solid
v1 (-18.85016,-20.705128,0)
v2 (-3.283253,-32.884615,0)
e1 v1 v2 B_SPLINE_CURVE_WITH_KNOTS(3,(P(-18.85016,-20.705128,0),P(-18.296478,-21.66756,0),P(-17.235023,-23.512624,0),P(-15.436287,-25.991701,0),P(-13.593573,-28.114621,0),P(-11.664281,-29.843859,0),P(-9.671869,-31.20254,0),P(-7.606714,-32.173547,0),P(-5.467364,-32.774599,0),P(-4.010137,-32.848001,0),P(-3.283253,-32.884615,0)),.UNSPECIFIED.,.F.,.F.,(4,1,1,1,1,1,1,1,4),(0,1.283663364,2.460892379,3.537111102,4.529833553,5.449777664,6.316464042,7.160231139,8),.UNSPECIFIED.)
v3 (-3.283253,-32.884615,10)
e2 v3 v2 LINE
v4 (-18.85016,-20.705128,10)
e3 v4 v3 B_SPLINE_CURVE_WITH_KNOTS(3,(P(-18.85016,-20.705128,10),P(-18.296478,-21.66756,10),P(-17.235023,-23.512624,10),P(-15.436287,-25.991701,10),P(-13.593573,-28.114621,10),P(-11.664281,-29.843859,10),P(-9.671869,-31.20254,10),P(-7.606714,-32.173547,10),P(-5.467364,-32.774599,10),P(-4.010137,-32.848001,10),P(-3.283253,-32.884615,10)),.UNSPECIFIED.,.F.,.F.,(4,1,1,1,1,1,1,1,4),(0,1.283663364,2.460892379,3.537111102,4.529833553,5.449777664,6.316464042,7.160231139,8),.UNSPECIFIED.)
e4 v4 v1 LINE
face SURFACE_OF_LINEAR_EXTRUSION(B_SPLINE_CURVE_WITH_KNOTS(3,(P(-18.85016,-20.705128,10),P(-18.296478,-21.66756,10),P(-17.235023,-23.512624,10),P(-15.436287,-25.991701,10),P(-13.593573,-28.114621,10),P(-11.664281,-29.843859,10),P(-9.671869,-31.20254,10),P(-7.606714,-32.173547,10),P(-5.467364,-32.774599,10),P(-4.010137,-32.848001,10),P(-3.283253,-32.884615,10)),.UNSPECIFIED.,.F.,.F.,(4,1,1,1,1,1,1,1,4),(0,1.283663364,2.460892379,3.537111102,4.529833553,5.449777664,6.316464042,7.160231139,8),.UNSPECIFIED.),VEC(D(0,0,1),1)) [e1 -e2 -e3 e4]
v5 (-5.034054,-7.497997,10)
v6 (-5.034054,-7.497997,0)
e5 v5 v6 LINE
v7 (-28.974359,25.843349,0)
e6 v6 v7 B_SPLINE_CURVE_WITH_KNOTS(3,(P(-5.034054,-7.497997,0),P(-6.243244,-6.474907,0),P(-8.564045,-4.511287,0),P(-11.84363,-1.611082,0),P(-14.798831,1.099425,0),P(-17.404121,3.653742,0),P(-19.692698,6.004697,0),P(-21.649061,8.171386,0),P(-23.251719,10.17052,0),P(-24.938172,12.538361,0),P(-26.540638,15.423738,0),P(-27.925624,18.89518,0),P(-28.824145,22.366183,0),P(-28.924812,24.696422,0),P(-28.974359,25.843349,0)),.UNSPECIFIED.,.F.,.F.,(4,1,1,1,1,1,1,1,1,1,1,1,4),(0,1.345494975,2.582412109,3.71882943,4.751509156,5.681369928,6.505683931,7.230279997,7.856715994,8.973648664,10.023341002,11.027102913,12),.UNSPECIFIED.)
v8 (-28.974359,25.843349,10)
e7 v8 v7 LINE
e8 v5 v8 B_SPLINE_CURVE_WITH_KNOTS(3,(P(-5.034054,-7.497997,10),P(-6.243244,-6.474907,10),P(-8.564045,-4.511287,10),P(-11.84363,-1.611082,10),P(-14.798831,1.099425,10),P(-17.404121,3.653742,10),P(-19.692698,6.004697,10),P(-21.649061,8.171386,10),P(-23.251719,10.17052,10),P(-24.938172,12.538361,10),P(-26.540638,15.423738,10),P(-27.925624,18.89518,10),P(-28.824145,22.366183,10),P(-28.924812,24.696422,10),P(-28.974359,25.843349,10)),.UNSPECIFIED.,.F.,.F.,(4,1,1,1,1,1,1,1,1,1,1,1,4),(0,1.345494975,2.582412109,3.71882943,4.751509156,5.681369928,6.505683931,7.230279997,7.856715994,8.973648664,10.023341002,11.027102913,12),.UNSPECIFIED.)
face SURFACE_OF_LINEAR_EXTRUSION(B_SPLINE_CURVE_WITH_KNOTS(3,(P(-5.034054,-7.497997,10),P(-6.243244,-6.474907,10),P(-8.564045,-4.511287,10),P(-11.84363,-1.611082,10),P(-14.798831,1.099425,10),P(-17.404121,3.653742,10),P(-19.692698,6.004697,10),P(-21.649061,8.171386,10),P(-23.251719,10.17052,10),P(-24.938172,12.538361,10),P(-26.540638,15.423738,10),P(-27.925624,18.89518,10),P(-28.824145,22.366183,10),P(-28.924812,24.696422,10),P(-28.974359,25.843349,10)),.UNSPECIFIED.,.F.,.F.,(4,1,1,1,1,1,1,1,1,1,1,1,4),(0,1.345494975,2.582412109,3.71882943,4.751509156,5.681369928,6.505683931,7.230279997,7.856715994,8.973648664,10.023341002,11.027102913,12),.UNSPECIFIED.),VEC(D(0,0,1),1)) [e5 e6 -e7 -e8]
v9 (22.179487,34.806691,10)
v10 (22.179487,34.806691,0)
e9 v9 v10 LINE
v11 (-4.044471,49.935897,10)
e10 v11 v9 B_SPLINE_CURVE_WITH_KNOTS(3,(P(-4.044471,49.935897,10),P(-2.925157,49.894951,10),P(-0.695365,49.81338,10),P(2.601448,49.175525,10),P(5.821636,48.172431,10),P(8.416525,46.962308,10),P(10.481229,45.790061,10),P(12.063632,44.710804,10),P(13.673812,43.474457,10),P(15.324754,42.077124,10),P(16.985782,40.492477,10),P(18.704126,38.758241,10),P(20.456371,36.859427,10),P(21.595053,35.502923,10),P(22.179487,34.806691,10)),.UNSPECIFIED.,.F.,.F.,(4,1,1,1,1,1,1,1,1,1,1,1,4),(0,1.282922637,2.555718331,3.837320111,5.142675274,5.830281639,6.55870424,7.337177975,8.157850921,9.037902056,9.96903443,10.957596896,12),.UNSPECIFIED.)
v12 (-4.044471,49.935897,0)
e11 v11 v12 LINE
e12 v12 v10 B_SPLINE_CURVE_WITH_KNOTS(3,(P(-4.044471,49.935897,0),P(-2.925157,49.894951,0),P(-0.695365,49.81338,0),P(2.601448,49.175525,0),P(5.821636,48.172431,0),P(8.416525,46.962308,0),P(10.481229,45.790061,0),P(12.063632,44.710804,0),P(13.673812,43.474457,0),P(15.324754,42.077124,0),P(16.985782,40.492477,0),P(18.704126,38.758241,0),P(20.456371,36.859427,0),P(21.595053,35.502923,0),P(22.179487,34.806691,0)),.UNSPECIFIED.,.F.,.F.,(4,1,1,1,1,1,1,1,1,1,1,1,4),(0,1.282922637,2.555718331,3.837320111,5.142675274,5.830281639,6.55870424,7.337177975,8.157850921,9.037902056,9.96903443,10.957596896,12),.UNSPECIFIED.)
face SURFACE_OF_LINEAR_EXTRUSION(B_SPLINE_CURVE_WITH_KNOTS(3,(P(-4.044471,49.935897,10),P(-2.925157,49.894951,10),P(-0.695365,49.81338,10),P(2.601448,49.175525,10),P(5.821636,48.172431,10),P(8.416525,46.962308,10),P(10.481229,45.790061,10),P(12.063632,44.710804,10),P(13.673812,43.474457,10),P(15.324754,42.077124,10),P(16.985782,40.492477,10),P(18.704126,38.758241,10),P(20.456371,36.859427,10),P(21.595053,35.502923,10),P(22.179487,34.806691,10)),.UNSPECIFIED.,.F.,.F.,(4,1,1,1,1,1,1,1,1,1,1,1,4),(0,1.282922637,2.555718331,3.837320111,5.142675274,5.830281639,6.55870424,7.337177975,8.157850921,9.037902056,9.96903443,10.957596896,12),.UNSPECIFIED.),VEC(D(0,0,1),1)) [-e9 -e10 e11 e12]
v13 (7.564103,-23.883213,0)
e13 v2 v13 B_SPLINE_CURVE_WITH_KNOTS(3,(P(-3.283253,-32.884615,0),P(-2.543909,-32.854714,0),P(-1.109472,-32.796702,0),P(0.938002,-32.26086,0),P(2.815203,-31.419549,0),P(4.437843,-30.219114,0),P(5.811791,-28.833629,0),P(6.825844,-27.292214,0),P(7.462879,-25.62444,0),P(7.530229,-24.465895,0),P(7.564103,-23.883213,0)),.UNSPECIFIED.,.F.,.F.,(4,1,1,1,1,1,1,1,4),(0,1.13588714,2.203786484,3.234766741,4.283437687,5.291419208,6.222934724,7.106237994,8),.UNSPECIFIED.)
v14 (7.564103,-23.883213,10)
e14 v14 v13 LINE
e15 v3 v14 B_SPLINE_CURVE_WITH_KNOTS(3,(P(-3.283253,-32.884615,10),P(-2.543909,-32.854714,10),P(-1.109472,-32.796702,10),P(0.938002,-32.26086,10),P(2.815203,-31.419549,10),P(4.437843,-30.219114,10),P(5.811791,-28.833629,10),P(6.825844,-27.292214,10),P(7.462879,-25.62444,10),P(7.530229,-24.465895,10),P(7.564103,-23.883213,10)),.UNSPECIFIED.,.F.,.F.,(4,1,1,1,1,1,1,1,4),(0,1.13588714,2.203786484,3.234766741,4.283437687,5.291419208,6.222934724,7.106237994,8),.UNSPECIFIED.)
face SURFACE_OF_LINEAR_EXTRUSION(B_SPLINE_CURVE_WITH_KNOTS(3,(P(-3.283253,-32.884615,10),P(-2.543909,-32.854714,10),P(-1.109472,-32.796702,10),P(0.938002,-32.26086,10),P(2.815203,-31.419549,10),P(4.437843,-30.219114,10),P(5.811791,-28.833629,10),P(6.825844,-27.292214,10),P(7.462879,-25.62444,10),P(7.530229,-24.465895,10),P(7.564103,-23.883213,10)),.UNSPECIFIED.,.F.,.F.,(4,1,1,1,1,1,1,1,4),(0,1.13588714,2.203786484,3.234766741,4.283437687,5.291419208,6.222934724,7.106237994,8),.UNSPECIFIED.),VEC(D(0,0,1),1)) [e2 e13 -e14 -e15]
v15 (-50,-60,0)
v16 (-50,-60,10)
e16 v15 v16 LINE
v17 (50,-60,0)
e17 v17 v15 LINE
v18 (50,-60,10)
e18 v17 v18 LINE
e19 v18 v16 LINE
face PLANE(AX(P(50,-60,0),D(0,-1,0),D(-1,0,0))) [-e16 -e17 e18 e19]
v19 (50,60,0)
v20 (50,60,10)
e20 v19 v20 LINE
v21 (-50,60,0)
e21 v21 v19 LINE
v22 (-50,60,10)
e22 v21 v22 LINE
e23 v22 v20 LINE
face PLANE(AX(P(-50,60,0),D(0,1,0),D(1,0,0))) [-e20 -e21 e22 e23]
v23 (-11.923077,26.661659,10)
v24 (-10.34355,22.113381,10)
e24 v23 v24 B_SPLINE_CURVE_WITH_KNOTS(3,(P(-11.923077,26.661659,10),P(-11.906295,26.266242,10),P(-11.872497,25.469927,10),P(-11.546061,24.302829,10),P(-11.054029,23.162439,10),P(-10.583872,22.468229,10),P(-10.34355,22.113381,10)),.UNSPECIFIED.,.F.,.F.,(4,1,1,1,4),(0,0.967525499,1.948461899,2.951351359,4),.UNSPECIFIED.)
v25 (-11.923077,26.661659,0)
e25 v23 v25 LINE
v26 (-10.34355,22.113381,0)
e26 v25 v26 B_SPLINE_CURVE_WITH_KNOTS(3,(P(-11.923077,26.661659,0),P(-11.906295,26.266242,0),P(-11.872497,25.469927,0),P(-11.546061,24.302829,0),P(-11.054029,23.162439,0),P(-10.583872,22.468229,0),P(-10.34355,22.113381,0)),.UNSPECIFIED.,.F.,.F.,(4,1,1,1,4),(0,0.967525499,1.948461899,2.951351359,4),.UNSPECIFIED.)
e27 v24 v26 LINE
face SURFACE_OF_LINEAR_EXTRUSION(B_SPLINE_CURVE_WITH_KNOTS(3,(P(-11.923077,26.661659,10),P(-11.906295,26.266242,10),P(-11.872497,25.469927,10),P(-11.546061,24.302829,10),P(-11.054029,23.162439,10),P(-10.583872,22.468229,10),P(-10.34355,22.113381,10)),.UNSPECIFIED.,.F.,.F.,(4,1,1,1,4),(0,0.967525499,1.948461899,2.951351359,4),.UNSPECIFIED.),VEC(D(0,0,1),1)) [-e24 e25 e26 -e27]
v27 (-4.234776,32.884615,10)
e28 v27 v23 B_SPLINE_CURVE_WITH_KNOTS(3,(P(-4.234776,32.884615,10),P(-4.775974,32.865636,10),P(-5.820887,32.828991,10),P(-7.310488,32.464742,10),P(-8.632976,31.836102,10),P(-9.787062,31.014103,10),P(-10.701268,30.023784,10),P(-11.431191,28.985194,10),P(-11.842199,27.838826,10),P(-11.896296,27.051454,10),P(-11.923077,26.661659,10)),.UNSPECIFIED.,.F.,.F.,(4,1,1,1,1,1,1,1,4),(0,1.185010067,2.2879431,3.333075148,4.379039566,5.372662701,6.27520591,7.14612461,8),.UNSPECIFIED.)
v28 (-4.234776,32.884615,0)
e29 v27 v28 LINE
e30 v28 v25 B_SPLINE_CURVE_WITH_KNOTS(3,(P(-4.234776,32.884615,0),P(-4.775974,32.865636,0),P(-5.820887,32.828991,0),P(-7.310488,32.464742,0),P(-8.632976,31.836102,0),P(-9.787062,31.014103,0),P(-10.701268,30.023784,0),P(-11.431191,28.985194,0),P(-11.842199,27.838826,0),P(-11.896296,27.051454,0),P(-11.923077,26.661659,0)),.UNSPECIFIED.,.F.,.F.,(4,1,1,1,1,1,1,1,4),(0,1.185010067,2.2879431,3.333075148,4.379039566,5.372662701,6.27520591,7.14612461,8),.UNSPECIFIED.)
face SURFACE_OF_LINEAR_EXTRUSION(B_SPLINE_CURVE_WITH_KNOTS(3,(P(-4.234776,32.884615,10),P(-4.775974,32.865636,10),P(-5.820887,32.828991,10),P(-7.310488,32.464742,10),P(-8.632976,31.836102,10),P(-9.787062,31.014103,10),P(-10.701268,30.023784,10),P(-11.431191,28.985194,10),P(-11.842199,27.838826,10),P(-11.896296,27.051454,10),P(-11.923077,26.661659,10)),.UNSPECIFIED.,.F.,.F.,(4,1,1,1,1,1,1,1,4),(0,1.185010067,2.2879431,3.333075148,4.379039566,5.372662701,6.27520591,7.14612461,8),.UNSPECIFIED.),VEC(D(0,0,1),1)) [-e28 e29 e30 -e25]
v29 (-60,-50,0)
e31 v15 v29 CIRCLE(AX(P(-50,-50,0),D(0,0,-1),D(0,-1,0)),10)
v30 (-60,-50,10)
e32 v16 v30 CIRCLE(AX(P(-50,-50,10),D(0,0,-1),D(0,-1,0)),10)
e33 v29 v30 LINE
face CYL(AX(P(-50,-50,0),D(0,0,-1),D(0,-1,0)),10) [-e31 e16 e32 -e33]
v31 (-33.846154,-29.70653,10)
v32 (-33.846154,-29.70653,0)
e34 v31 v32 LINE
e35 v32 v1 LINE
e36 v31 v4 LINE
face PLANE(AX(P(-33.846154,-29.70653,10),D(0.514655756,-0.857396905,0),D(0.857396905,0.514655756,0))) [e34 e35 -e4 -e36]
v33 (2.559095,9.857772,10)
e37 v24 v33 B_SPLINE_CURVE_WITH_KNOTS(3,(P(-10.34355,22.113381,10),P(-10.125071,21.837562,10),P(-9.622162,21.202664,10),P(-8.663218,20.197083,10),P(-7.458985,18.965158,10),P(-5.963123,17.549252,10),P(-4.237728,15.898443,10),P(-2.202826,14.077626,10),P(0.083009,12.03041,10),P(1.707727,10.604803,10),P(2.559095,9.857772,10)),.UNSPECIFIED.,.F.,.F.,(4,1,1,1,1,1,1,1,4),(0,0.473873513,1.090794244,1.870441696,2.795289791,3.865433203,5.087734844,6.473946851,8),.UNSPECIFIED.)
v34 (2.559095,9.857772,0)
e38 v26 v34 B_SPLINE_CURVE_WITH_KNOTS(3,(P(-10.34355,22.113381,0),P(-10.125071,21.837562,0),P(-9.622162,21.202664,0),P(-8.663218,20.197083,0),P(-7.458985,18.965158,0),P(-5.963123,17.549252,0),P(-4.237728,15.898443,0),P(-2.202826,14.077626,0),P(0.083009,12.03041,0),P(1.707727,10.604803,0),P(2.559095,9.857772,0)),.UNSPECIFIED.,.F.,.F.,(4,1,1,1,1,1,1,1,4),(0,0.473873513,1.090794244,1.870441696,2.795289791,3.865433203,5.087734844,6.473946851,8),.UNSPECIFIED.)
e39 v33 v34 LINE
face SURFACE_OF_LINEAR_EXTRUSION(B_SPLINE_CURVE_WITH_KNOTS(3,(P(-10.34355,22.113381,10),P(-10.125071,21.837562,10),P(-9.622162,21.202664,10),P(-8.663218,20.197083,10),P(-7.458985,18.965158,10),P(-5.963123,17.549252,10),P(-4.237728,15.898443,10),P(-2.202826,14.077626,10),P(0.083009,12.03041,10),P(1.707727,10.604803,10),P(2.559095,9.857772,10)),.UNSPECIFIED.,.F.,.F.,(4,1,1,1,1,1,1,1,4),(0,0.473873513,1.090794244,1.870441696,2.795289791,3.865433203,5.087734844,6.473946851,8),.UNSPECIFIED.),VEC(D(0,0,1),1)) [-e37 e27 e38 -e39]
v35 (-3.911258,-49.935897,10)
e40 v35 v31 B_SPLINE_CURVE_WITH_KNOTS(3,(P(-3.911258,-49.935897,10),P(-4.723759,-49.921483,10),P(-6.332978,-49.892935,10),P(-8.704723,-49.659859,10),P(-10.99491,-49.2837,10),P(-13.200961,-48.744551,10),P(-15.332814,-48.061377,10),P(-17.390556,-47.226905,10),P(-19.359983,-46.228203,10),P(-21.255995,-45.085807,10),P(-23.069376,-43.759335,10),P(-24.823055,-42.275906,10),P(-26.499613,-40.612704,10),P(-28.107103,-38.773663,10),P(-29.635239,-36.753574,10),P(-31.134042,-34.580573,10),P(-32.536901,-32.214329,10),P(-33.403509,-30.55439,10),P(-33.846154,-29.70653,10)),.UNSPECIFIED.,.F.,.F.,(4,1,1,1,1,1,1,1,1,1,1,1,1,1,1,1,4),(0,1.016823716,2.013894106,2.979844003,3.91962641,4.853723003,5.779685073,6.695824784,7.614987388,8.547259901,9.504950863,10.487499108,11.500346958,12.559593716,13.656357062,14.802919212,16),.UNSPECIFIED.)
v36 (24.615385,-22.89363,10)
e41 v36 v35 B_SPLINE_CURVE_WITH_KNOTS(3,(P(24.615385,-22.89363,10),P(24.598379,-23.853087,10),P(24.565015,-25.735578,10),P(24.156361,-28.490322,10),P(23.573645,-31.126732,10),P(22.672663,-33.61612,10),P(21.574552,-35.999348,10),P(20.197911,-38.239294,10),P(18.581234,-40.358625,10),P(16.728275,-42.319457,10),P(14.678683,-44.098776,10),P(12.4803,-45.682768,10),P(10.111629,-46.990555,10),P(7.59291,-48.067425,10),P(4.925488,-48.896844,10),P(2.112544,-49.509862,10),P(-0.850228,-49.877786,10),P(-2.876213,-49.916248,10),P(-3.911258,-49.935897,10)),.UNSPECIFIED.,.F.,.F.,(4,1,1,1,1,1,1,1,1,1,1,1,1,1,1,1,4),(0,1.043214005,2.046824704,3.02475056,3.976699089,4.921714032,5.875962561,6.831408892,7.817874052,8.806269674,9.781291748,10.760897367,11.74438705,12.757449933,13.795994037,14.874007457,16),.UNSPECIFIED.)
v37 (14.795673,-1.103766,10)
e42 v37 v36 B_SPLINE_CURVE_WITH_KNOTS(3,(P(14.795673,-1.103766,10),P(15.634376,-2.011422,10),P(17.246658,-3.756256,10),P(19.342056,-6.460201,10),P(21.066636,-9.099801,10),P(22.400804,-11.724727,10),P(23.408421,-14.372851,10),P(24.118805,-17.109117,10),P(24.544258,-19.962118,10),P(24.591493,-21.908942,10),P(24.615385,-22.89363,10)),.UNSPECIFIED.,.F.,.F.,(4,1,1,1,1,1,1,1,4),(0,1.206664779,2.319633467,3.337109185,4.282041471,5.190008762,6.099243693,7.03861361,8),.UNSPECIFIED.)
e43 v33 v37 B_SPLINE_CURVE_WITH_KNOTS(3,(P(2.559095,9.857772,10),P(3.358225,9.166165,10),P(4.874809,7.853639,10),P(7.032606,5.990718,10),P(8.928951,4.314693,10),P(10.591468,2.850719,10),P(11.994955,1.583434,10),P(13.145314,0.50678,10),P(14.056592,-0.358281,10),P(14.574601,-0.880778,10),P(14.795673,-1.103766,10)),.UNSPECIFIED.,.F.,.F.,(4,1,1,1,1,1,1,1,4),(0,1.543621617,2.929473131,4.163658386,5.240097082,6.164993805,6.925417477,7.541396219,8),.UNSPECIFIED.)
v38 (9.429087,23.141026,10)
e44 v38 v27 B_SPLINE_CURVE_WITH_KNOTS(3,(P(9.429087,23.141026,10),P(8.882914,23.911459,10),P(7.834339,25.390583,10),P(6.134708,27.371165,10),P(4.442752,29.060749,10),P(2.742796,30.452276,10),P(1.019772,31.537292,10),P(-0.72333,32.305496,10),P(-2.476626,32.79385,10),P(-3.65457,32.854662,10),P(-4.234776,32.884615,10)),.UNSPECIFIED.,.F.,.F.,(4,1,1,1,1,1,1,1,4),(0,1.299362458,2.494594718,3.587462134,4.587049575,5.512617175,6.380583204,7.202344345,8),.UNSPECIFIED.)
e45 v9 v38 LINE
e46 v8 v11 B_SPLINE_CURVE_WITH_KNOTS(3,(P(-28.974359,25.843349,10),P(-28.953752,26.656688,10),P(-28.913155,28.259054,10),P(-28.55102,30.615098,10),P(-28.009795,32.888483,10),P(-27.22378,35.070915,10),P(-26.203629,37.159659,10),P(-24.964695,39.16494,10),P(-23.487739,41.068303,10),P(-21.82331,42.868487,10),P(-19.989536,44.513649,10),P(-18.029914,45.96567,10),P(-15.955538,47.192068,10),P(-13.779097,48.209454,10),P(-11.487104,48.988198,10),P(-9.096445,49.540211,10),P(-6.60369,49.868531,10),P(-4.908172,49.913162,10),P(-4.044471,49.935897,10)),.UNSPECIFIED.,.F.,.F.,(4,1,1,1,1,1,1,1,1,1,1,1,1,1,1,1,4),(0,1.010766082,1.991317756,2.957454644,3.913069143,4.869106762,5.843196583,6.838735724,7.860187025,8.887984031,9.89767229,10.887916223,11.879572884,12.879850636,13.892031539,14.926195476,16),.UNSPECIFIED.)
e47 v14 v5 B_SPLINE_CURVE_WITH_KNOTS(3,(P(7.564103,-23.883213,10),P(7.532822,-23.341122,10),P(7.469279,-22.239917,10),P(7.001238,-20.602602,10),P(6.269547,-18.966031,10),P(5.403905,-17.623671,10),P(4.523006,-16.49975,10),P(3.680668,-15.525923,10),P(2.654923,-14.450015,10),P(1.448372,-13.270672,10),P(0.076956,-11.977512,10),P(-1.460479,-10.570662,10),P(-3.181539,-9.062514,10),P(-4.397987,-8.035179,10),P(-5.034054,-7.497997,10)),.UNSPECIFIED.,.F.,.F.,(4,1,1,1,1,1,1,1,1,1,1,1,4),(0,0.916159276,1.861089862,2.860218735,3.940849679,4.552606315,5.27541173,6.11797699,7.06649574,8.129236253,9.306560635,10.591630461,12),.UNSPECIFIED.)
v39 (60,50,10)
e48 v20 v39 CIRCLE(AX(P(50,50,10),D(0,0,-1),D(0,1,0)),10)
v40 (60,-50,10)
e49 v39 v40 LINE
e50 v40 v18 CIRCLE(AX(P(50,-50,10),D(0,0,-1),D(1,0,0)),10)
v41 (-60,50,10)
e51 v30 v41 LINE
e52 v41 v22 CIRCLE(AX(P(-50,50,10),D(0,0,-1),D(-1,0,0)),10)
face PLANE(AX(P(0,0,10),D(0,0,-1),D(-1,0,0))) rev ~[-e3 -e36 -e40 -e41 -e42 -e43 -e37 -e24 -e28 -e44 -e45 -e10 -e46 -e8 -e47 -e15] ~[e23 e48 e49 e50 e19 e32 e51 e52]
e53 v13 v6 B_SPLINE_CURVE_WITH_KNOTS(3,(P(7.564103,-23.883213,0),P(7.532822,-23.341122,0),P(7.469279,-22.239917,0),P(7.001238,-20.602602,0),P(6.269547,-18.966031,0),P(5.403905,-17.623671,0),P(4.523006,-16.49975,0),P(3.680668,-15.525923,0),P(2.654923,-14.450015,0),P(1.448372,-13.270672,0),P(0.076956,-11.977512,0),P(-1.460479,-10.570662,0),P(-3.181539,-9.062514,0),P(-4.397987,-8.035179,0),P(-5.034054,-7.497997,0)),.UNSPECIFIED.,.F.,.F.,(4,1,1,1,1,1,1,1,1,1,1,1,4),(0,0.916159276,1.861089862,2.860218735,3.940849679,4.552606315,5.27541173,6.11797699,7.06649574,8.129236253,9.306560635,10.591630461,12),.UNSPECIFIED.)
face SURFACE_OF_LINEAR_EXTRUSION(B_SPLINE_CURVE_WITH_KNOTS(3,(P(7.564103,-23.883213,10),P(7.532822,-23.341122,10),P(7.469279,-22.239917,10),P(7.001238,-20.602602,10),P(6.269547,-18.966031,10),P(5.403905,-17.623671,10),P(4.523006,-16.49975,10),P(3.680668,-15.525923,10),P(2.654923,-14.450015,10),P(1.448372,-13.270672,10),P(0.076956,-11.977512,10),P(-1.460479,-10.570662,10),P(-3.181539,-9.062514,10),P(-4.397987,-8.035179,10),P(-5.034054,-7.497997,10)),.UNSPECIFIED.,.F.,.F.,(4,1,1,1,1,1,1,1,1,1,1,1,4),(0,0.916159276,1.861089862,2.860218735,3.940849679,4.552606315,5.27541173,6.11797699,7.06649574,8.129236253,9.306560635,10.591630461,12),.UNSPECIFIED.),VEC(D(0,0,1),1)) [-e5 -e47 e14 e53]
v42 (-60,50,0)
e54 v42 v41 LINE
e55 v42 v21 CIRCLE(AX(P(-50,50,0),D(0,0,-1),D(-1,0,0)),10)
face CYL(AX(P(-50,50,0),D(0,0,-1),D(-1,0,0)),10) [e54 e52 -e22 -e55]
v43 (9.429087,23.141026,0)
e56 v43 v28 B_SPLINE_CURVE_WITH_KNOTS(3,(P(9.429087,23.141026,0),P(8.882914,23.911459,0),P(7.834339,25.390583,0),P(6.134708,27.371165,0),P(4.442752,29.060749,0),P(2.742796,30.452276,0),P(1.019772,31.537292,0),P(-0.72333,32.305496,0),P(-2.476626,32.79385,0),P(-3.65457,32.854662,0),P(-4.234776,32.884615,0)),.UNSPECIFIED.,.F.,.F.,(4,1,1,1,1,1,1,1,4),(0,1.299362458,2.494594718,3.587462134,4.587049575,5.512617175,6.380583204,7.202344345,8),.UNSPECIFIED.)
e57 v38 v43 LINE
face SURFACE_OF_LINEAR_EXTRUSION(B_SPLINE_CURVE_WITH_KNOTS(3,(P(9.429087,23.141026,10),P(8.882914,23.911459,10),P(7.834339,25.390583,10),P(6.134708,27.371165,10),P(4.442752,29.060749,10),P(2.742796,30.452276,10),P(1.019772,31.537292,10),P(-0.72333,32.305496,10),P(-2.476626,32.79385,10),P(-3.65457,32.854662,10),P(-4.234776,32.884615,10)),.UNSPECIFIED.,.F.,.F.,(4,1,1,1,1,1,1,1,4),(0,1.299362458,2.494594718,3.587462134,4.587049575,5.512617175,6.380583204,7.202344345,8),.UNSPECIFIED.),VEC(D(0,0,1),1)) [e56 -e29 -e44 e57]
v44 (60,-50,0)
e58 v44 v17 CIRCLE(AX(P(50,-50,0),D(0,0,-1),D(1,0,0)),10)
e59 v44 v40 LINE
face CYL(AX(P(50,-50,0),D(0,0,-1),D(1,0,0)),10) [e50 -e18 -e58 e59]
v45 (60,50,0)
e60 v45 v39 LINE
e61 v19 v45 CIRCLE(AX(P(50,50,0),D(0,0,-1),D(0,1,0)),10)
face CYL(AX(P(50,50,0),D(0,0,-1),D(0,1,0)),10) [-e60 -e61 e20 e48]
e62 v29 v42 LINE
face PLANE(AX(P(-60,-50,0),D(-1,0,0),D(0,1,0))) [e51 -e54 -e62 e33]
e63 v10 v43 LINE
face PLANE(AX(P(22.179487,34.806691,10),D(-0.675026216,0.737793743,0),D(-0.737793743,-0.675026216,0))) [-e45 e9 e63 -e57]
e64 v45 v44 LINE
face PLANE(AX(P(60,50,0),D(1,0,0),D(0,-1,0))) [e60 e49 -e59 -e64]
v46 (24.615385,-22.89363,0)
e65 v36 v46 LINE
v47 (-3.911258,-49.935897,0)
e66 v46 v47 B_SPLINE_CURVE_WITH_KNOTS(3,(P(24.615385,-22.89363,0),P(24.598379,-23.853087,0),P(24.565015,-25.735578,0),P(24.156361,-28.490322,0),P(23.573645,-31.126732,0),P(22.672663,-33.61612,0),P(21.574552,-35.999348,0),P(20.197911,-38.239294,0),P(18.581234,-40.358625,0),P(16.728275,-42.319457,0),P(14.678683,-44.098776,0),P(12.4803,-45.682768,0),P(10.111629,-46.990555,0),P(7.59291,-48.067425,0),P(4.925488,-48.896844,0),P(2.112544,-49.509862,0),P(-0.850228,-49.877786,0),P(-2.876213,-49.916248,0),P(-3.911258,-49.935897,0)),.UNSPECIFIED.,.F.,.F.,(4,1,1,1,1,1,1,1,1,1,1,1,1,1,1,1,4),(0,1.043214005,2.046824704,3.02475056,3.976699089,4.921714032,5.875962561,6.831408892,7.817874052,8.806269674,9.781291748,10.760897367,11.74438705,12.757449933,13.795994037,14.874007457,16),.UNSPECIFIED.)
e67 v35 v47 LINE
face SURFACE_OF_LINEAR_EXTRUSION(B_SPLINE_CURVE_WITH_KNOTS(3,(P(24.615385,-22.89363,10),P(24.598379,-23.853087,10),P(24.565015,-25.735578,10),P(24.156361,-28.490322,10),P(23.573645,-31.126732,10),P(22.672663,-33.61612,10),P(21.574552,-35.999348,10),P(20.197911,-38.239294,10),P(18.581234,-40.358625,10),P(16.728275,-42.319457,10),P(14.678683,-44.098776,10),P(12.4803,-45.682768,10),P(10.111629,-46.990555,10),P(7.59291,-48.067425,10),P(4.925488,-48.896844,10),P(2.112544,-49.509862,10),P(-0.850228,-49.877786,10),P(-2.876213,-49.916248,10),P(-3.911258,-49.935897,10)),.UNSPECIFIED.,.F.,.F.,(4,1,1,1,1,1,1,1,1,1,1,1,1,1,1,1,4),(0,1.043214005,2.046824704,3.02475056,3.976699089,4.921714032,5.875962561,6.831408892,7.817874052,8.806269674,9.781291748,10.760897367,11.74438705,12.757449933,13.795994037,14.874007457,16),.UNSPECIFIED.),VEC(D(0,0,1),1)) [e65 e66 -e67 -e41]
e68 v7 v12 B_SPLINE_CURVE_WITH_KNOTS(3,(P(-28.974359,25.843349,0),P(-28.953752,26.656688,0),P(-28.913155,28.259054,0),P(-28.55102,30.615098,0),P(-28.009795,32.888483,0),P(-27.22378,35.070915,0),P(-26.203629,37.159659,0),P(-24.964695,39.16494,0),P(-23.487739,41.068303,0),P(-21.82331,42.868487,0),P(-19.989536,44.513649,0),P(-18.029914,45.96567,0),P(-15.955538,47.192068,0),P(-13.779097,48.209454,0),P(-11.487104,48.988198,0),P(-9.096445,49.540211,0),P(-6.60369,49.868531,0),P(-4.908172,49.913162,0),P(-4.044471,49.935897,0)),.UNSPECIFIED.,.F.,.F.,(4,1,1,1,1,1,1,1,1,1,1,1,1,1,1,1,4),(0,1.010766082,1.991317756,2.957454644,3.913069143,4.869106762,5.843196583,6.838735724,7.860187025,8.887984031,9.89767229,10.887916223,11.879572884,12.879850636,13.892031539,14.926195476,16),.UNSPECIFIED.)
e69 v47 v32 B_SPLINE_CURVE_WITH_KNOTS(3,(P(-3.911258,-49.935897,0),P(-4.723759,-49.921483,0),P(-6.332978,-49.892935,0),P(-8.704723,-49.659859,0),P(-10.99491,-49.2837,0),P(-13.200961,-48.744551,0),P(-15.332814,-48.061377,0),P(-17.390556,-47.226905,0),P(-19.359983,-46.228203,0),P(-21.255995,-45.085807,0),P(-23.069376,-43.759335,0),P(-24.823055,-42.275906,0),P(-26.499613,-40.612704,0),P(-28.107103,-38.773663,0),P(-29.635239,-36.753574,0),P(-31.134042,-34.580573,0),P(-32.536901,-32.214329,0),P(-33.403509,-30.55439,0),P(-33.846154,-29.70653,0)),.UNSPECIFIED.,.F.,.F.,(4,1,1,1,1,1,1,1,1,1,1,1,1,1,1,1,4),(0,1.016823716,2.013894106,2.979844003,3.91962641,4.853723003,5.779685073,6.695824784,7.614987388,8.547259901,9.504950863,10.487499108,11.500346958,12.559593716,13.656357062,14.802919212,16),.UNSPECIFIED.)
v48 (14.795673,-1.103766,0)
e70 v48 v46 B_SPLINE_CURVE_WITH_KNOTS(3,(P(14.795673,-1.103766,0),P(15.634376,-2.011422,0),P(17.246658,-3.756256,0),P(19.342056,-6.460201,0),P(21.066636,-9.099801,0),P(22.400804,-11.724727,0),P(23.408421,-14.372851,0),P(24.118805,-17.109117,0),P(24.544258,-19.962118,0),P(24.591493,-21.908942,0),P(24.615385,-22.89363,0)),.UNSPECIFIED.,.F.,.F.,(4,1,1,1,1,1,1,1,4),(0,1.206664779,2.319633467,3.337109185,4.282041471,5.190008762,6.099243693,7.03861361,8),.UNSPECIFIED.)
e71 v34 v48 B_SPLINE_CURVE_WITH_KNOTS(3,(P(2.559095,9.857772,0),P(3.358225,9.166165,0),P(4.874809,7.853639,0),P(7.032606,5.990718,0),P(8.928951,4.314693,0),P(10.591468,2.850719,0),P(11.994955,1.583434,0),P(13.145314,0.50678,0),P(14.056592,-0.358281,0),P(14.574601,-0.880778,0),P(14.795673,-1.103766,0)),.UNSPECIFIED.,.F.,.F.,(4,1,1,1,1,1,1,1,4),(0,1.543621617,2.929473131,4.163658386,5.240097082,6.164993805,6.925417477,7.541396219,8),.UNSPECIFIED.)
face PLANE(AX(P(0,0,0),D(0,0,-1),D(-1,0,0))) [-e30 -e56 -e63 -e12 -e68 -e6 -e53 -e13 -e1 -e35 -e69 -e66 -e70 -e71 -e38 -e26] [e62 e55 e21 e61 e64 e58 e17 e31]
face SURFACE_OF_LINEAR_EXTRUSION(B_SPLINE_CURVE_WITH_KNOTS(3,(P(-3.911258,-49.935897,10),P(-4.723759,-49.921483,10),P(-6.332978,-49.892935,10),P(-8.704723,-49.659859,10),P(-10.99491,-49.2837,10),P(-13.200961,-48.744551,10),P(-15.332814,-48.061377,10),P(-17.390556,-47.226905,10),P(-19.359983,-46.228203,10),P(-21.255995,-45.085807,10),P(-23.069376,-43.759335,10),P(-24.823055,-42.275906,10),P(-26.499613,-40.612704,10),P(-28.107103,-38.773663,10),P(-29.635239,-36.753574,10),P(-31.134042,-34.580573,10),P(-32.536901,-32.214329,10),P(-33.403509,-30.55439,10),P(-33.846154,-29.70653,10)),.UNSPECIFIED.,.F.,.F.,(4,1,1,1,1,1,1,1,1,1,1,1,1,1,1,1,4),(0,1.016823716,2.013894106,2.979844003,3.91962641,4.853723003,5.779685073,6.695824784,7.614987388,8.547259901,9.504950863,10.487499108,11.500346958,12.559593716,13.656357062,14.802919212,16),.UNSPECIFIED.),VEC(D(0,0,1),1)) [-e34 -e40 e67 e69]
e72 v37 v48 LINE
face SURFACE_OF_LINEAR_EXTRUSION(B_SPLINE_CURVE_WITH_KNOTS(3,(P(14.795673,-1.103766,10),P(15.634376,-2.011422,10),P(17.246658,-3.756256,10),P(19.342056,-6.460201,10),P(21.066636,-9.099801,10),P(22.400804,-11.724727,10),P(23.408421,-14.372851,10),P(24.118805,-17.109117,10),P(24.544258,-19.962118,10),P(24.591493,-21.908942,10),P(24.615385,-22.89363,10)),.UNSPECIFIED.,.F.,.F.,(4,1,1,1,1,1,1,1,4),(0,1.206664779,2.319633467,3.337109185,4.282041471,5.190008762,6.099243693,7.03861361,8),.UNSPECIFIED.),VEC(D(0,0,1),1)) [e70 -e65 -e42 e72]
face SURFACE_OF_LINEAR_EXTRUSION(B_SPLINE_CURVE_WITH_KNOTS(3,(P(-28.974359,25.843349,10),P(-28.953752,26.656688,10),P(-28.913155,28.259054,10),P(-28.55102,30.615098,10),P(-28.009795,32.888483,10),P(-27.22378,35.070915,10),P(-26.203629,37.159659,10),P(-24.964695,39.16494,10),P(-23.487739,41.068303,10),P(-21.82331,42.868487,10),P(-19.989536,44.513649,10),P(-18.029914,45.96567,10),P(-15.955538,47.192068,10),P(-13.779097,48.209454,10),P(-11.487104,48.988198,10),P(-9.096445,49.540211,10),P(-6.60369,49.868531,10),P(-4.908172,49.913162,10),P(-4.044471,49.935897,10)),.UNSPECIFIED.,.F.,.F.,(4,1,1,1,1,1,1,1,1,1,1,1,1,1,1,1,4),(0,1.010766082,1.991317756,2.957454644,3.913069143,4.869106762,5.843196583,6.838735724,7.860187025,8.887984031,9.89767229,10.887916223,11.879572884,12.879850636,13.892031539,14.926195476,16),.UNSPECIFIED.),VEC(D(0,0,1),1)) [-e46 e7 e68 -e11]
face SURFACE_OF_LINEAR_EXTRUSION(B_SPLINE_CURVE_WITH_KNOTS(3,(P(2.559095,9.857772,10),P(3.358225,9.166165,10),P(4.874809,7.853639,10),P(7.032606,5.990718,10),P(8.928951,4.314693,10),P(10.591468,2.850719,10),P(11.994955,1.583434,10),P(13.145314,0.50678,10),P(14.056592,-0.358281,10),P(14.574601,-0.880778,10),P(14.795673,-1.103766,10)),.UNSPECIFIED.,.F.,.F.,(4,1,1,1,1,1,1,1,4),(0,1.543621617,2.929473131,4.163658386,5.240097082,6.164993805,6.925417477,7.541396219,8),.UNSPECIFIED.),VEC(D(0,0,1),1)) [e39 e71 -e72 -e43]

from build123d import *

# Parameters (mm, degrees)
BOSS_EXTRUDE1_DEPTH = 10
CUT_EXTRUDE32_DEPTH = 10


with BuildPart() as part:
    # Sketch1 → Boss-Extrude1 (new body)
    with BuildSketch(Plane.XY):
        with BuildLine():
            Line((-50, 60), (50, 60))
            ThreePointArc((50, 60), (57.071067812, 57.071067812), (60, 50))
            Line((60, 50), (60, -50))
            ThreePointArc((60, -50), (57.071067812, -57.071067812), (50, -60))
            Line((50, -60), (-50, -60))
            ThreePointArc((-50, -60), (-57.071067812, -57.071067812), (-60, -50))
            Line((-60, -50), (-60, 50))
            ThreePointArc((-60, 50), (-57.071067812, 57.071067812), (-50, 60))
        make_face()
    extrude(amount=BOSS_EXTRUDE1_DEPTH)

    # Sketch2 → Cut-Extrude32 (cut)
    with BuildSketch(Plane.XY.offset(10)):
        with BuildLine():
            Line((22.179487179, 34.806690705), (9.429086538, 23.141025641))
            add(Edge.make_bspline(
                [(9.429086538, 23.141025641), (8.882914048, 23.91145872), (7.834339031, 25.390582792), (6.134708299, 27.371164786), (4.442752271, 29.06074862), (2.742796004, 30.452275993), (1.019771731, 31.537292342), (-0.723329628, 32.305495903), (-2.476625945, 32.793850197), (-3.654570423, 32.854662056), (-4.234775641, 32.884615385)],
                knots=[0, 0, 0, 0, 1.299362458, 2.494594718, 3.587462134, 4.587049575, 5.512617175, 6.380583204, 7.202344345, 8, 8, 8, 8], degree=3))
            add(Edge.make_bspline(
                [(-4.234775641, 32.884615385), (-4.775974426, 32.865635582), (-5.820887089, 32.828990568), (-7.31048761, 32.464741869), (-8.632976167, 31.836102106), (-9.787062069, 31.01410273), (-10.701268375, 30.023784052), (-11.431191215, 28.98519439), (-11.842199109, 27.838826287), (-11.896295835, 27.05145443), (-11.923076923, 26.661658654)],
                knots=[0, 0, 0, 0, 1.185010067, 2.2879431, 3.333075148, 4.379039566, 5.372662701, 6.27520591, 7.14612461, 8, 8, 8, 8], degree=3))
            add(Edge.make_bspline(
                [(-11.923076923, 26.661658654), (-11.906294573, 26.266241849), (-11.872497251, 25.469927355), (-11.546061132, 24.302829291), (-11.054028691, 23.162438622), (-10.583871606, 22.468228557), (-10.343549679, 22.11338141)],
                knots=[0, 0, 0, 0, 0.967525499, 1.948461899, 2.951351359, 4, 4, 4, 4], degree=3))
            add(Edge.make_bspline(
                [(-10.343549679, 22.11338141), (-10.125071051, 21.837562436), (-9.622162103, 21.202663585), (-8.663217741, 20.197082772), (-7.458985017, 18.965158257), (-5.96312252, 17.549252313), (-4.237727617, 15.898443424), (-2.202826025, 14.077625518), (0.083008913, 12.030409979), (1.707727428, 10.604803211), (2.559094551, 9.857772436)],
                knots=[0, 0, 0, 0, 0.473873513, 1.090794244, 1.870441696, 2.795289791, 3.865433203, 5.087734844, 6.473946851, 8, 8, 8, 8], degree=3))
            add(Edge.make_bspline(
                [(2.559094551, 9.857772436), (3.358225064, 9.166165286), (4.874808752, 7.853638601), (7.032606174, 5.990717711), (8.92895073, 4.31469321), (10.591467834, 2.85071864), (11.994955347, 1.583433555), (13.145313536, 0.506780349), (14.056592075, -0.358280522), (14.574600568, -0.880777815), (14.795673077, -1.103766026)],
                knots=[0, 0, 0, 0, 1.543621617, 2.929473131, 4.163658386, 5.240097082, 6.164993805, 6.925417477, 7.541396219, 8, 8, 8, 8], degree=3))
            add(Edge.make_bspline(
                [(14.795673077, -1.103766026), (15.634376084, -2.011422303), (17.246657803, -3.756256423), (19.342055672, -6.460200571), (21.066635897, -9.099801404), (22.400803862, -11.724727295), (23.40842117, -14.372850698), (24.118804721, -17.109116699), (24.544258155, -19.96211756), (24.59149342, -21.908942364), (24.615384615, -22.893629808)],
                knots=[0, 0, 0, 0, 1.206664779, 2.319633467, 3.337109185, 4.282041471, 5.190008762, 6.099243693, 7.03861361, 8, 8, 8, 8], degree=3))
            add(Edge.make_bspline(
                [(24.615384615, -22.893629808), (24.598379474, -23.853086961), (24.565014754, -25.735577605), (24.156360918, -28.490322254), (23.573644532, -31.126732441), (22.672662774, -33.616120296), (21.574551543, -35.999348361), (20.197910517, -38.239293521), (18.581234396, -40.358624937), (16.728275333, -42.319456968), (14.67868258, -44.098776126), (12.480299564, -45.682768067), (10.111629387, -46.990555178), (7.592909595, -48.06742458), (4.925488401, -48.896843793), (2.112543508, -49.509861892), (-0.850227675, -49.877785692), (-2.876213304, -49.91624776), (-3.911258013, -49.935897436)],
                knots=[0, 0, 0, 0, 1.043214005, 2.046824704, 3.02475056, 3.976699089, 4.921714032, 5.875962561, 6.831408892, 7.817874052, 8.806269674, 9.781291748, 10.760897367, 11.74438705, 12.757449933, 13.795994037, 14.874007457, 16, 16, 16, 16], degree=3))
            add(Edge.make_bspline(
                [(-3.911258013, -49.935897436), (-4.723759295, -49.921483122), (-6.332977804, -49.892934513), (-8.704722601, -49.659858889), (-10.994910313, -49.283699628), (-13.200961249, -48.74455104), (-15.332814058, -48.061376655), (-17.390556291, -47.226905315), (-19.359982672, -46.228203026), (-21.255994813, -45.085807078), (-23.069375756, -43.759334902), (-24.82305499, -42.275905787), (-26.499613308, -40.612703931), (-28.107102878, -38.773662739), (-29.635238535, -36.753574491), (-31.134041642, -34.580572653), (-32.53690088, -32.214329262), (-33.403509434, -30.554390381), (-33.846153846, -29.706530449)],
                knots=[0, 0, 0, 0, 1.016823716, 2.013894106, 2.979844003, 3.91962641, 4.853723003, 5.779685073, 6.695824784, 7.614987388, 8.547259901, 9.504950863, 10.487499108, 11.500346958, 12.559593716, 13.656357062, 14.802919212, 16, 16, 16, 16], degree=3))
            Line((-33.846153846, -29.706530449), (-18.850160256, -20.705128205))
            add(Edge.make_bspline(
                [(-18.850160256, -20.705128205), (-18.296478254, -21.667560008), (-17.235022533, -23.512624029), (-15.436286582, -25.991701389), (-13.593573429, -28.114620785), (-11.664281196, -29.843859481), (-9.671869355, -31.202539621), (-7.606714094, -32.173546708), (-5.467364474, -32.774598996), (-4.010136703, -32.848001363), (-3.283253205, -32.884615385)],
                knots=[0, 0, 0, 0, 1.283663364, 2.460892379, 3.537111102, 4.529833553, 5.449777664, 6.316464042, 7.160231139, 8, 8, 8, 8], degree=3))
            add(Edge.make_bspline(
                [(-3.283253205, -32.884615385), (-2.543908622, -32.854714389), (-1.109472453, -32.796702103), (0.938001622, -32.26086011), (2.81520338, -31.41954887), (4.437842715, -30.219113746), (5.811791397, -28.83362916), (6.825844389, -27.292214207), (7.462879318, -25.624440438), (7.530229355, -24.465895073), (7.564102564, -23.883213141)],
                knots=[0, 0, 0, 0, 1.13588714, 2.203786484, 3.234766741, 4.283437687, 5.291419208, 6.222934724, 7.106237994, 8, 8, 8, 8], degree=3))
            add(Edge.make_bspline(
                [(7.564102564, -23.883213141), (7.532822042, -23.341122423), (7.469278655, -22.239917025), (7.001237654, -20.602601675), (6.26954681, -18.966030942), (5.403904944, -17.62367135), (4.523005953, -16.499750052), (3.68066783, -15.525923088), (2.654922822, -14.450014779), (1.448371765, -13.270671713), (0.076956347, -11.977511836), (-1.460478671, -10.570661777), (-3.181538547, -9.062514205), (-4.397987064, -8.035178979), (-5.034054487, -7.497996795)],
                knots=[0, 0, 0, 0, 0.916159276, 1.861089862, 2.860218735, 3.940849679, 4.552606315, 5.27541173, 6.11797699, 7.06649574, 8.129236253, 9.306560635, 10.591630461, 12, 12, 12, 12], degree=3))
            add(Edge.make_bspline(
                [(-5.034054487, -7.497996795), (-6.243243975, -6.474906536), (-8.564044597, -4.511286663), (-11.84363032, -1.611081927), (-14.798830707, 1.099425143), (-17.404121473, 3.653742339), (-19.692698053, 6.004697341), (-21.649061212, 8.171385505), (-23.251719411, 10.170519868), (-24.938171589, 12.538360741), (-26.540638342, 15.423737543), (-27.925624358, 18.895180326), (-28.824144829, 22.366182634), (-28.924811551, 24.696422404), (-28.974358974, 25.843349359)],
                knots=[0, 0, 0, 0, 1.345494975, 2.582412109, 3.71882943, 4.751509156, 5.681369928, 6.505683931, 7.230279997, 7.856715994, 8.973648664, 10.023341002, 11.027102913, 12, 12, 12, 12], degree=3))
            add(Edge.make_bspline(
                [(-28.974358974, 25.843349359), (-28.953752267, 26.656688395), (-28.91315484, 28.259053664), (-28.551019527, 30.61509832), (-28.009794504, 32.888483451), (-27.223780391, 35.070914712), (-26.203628979, 37.159658519), (-24.964694716, 39.164940152), (-23.487739299, 41.068303453), (-21.823310254, 42.868486626), (-19.989535587, 44.513649186), (-18.029914316, 45.965669991), (-15.955538071, 47.192067876), (-13.779096835, 48.209453974), (-11.487104107, 48.988198402), (-9.096444894, 49.540211269), (-6.60369023, 49.868530918), (-4.908172315, 49.913162165), (-4.044471154, 49.935897436)],
                knots=[0, 0, 0, 0, 1.010766082, 1.991317756, 2.957454644, 3.913069143, 4.869106762, 5.843196583, 6.838735724, 7.860187025, 8.887984031, 9.89767229, 10.887916223, 11.879572884, 12.879850636, 13.892031539, 14.926195476, 16, 16, 16, 16], degree=3))
            add(Edge.make_bspline(
                [(-4.044471154, 49.935897436), (-2.925157197, 49.894950547), (-0.695364756, 49.813379988), (2.601447679, 49.175524879), (5.821636228, 48.17243053), (8.416524509, 46.962307558), (10.481228679, 45.790060863), (12.063631555, 44.71080377), (13.673811657, 43.474456765), (15.324754087, 42.07712379), (16.98578178, 40.492477259), (18.704125696, 38.758240928), (20.456371299, 36.85942694), (21.595053116, 35.502923032), (22.179487179, 34.806690705)],
                knots=[0, 0, 0, 0, 1.282922637, 2.555718331, 3.837320111, 5.142675274, 5.830281639, 6.55870424, 7.337177975, 8.157850921, 9.037902056, 9.96903443, 10.957596896, 12, 12, 12, 12], degree=3))
        make_face()
    extrude(amount=-CUT_EXTRUDE32_DEPTH, mode=Mode.SUBTRACT)


solid = part.part
